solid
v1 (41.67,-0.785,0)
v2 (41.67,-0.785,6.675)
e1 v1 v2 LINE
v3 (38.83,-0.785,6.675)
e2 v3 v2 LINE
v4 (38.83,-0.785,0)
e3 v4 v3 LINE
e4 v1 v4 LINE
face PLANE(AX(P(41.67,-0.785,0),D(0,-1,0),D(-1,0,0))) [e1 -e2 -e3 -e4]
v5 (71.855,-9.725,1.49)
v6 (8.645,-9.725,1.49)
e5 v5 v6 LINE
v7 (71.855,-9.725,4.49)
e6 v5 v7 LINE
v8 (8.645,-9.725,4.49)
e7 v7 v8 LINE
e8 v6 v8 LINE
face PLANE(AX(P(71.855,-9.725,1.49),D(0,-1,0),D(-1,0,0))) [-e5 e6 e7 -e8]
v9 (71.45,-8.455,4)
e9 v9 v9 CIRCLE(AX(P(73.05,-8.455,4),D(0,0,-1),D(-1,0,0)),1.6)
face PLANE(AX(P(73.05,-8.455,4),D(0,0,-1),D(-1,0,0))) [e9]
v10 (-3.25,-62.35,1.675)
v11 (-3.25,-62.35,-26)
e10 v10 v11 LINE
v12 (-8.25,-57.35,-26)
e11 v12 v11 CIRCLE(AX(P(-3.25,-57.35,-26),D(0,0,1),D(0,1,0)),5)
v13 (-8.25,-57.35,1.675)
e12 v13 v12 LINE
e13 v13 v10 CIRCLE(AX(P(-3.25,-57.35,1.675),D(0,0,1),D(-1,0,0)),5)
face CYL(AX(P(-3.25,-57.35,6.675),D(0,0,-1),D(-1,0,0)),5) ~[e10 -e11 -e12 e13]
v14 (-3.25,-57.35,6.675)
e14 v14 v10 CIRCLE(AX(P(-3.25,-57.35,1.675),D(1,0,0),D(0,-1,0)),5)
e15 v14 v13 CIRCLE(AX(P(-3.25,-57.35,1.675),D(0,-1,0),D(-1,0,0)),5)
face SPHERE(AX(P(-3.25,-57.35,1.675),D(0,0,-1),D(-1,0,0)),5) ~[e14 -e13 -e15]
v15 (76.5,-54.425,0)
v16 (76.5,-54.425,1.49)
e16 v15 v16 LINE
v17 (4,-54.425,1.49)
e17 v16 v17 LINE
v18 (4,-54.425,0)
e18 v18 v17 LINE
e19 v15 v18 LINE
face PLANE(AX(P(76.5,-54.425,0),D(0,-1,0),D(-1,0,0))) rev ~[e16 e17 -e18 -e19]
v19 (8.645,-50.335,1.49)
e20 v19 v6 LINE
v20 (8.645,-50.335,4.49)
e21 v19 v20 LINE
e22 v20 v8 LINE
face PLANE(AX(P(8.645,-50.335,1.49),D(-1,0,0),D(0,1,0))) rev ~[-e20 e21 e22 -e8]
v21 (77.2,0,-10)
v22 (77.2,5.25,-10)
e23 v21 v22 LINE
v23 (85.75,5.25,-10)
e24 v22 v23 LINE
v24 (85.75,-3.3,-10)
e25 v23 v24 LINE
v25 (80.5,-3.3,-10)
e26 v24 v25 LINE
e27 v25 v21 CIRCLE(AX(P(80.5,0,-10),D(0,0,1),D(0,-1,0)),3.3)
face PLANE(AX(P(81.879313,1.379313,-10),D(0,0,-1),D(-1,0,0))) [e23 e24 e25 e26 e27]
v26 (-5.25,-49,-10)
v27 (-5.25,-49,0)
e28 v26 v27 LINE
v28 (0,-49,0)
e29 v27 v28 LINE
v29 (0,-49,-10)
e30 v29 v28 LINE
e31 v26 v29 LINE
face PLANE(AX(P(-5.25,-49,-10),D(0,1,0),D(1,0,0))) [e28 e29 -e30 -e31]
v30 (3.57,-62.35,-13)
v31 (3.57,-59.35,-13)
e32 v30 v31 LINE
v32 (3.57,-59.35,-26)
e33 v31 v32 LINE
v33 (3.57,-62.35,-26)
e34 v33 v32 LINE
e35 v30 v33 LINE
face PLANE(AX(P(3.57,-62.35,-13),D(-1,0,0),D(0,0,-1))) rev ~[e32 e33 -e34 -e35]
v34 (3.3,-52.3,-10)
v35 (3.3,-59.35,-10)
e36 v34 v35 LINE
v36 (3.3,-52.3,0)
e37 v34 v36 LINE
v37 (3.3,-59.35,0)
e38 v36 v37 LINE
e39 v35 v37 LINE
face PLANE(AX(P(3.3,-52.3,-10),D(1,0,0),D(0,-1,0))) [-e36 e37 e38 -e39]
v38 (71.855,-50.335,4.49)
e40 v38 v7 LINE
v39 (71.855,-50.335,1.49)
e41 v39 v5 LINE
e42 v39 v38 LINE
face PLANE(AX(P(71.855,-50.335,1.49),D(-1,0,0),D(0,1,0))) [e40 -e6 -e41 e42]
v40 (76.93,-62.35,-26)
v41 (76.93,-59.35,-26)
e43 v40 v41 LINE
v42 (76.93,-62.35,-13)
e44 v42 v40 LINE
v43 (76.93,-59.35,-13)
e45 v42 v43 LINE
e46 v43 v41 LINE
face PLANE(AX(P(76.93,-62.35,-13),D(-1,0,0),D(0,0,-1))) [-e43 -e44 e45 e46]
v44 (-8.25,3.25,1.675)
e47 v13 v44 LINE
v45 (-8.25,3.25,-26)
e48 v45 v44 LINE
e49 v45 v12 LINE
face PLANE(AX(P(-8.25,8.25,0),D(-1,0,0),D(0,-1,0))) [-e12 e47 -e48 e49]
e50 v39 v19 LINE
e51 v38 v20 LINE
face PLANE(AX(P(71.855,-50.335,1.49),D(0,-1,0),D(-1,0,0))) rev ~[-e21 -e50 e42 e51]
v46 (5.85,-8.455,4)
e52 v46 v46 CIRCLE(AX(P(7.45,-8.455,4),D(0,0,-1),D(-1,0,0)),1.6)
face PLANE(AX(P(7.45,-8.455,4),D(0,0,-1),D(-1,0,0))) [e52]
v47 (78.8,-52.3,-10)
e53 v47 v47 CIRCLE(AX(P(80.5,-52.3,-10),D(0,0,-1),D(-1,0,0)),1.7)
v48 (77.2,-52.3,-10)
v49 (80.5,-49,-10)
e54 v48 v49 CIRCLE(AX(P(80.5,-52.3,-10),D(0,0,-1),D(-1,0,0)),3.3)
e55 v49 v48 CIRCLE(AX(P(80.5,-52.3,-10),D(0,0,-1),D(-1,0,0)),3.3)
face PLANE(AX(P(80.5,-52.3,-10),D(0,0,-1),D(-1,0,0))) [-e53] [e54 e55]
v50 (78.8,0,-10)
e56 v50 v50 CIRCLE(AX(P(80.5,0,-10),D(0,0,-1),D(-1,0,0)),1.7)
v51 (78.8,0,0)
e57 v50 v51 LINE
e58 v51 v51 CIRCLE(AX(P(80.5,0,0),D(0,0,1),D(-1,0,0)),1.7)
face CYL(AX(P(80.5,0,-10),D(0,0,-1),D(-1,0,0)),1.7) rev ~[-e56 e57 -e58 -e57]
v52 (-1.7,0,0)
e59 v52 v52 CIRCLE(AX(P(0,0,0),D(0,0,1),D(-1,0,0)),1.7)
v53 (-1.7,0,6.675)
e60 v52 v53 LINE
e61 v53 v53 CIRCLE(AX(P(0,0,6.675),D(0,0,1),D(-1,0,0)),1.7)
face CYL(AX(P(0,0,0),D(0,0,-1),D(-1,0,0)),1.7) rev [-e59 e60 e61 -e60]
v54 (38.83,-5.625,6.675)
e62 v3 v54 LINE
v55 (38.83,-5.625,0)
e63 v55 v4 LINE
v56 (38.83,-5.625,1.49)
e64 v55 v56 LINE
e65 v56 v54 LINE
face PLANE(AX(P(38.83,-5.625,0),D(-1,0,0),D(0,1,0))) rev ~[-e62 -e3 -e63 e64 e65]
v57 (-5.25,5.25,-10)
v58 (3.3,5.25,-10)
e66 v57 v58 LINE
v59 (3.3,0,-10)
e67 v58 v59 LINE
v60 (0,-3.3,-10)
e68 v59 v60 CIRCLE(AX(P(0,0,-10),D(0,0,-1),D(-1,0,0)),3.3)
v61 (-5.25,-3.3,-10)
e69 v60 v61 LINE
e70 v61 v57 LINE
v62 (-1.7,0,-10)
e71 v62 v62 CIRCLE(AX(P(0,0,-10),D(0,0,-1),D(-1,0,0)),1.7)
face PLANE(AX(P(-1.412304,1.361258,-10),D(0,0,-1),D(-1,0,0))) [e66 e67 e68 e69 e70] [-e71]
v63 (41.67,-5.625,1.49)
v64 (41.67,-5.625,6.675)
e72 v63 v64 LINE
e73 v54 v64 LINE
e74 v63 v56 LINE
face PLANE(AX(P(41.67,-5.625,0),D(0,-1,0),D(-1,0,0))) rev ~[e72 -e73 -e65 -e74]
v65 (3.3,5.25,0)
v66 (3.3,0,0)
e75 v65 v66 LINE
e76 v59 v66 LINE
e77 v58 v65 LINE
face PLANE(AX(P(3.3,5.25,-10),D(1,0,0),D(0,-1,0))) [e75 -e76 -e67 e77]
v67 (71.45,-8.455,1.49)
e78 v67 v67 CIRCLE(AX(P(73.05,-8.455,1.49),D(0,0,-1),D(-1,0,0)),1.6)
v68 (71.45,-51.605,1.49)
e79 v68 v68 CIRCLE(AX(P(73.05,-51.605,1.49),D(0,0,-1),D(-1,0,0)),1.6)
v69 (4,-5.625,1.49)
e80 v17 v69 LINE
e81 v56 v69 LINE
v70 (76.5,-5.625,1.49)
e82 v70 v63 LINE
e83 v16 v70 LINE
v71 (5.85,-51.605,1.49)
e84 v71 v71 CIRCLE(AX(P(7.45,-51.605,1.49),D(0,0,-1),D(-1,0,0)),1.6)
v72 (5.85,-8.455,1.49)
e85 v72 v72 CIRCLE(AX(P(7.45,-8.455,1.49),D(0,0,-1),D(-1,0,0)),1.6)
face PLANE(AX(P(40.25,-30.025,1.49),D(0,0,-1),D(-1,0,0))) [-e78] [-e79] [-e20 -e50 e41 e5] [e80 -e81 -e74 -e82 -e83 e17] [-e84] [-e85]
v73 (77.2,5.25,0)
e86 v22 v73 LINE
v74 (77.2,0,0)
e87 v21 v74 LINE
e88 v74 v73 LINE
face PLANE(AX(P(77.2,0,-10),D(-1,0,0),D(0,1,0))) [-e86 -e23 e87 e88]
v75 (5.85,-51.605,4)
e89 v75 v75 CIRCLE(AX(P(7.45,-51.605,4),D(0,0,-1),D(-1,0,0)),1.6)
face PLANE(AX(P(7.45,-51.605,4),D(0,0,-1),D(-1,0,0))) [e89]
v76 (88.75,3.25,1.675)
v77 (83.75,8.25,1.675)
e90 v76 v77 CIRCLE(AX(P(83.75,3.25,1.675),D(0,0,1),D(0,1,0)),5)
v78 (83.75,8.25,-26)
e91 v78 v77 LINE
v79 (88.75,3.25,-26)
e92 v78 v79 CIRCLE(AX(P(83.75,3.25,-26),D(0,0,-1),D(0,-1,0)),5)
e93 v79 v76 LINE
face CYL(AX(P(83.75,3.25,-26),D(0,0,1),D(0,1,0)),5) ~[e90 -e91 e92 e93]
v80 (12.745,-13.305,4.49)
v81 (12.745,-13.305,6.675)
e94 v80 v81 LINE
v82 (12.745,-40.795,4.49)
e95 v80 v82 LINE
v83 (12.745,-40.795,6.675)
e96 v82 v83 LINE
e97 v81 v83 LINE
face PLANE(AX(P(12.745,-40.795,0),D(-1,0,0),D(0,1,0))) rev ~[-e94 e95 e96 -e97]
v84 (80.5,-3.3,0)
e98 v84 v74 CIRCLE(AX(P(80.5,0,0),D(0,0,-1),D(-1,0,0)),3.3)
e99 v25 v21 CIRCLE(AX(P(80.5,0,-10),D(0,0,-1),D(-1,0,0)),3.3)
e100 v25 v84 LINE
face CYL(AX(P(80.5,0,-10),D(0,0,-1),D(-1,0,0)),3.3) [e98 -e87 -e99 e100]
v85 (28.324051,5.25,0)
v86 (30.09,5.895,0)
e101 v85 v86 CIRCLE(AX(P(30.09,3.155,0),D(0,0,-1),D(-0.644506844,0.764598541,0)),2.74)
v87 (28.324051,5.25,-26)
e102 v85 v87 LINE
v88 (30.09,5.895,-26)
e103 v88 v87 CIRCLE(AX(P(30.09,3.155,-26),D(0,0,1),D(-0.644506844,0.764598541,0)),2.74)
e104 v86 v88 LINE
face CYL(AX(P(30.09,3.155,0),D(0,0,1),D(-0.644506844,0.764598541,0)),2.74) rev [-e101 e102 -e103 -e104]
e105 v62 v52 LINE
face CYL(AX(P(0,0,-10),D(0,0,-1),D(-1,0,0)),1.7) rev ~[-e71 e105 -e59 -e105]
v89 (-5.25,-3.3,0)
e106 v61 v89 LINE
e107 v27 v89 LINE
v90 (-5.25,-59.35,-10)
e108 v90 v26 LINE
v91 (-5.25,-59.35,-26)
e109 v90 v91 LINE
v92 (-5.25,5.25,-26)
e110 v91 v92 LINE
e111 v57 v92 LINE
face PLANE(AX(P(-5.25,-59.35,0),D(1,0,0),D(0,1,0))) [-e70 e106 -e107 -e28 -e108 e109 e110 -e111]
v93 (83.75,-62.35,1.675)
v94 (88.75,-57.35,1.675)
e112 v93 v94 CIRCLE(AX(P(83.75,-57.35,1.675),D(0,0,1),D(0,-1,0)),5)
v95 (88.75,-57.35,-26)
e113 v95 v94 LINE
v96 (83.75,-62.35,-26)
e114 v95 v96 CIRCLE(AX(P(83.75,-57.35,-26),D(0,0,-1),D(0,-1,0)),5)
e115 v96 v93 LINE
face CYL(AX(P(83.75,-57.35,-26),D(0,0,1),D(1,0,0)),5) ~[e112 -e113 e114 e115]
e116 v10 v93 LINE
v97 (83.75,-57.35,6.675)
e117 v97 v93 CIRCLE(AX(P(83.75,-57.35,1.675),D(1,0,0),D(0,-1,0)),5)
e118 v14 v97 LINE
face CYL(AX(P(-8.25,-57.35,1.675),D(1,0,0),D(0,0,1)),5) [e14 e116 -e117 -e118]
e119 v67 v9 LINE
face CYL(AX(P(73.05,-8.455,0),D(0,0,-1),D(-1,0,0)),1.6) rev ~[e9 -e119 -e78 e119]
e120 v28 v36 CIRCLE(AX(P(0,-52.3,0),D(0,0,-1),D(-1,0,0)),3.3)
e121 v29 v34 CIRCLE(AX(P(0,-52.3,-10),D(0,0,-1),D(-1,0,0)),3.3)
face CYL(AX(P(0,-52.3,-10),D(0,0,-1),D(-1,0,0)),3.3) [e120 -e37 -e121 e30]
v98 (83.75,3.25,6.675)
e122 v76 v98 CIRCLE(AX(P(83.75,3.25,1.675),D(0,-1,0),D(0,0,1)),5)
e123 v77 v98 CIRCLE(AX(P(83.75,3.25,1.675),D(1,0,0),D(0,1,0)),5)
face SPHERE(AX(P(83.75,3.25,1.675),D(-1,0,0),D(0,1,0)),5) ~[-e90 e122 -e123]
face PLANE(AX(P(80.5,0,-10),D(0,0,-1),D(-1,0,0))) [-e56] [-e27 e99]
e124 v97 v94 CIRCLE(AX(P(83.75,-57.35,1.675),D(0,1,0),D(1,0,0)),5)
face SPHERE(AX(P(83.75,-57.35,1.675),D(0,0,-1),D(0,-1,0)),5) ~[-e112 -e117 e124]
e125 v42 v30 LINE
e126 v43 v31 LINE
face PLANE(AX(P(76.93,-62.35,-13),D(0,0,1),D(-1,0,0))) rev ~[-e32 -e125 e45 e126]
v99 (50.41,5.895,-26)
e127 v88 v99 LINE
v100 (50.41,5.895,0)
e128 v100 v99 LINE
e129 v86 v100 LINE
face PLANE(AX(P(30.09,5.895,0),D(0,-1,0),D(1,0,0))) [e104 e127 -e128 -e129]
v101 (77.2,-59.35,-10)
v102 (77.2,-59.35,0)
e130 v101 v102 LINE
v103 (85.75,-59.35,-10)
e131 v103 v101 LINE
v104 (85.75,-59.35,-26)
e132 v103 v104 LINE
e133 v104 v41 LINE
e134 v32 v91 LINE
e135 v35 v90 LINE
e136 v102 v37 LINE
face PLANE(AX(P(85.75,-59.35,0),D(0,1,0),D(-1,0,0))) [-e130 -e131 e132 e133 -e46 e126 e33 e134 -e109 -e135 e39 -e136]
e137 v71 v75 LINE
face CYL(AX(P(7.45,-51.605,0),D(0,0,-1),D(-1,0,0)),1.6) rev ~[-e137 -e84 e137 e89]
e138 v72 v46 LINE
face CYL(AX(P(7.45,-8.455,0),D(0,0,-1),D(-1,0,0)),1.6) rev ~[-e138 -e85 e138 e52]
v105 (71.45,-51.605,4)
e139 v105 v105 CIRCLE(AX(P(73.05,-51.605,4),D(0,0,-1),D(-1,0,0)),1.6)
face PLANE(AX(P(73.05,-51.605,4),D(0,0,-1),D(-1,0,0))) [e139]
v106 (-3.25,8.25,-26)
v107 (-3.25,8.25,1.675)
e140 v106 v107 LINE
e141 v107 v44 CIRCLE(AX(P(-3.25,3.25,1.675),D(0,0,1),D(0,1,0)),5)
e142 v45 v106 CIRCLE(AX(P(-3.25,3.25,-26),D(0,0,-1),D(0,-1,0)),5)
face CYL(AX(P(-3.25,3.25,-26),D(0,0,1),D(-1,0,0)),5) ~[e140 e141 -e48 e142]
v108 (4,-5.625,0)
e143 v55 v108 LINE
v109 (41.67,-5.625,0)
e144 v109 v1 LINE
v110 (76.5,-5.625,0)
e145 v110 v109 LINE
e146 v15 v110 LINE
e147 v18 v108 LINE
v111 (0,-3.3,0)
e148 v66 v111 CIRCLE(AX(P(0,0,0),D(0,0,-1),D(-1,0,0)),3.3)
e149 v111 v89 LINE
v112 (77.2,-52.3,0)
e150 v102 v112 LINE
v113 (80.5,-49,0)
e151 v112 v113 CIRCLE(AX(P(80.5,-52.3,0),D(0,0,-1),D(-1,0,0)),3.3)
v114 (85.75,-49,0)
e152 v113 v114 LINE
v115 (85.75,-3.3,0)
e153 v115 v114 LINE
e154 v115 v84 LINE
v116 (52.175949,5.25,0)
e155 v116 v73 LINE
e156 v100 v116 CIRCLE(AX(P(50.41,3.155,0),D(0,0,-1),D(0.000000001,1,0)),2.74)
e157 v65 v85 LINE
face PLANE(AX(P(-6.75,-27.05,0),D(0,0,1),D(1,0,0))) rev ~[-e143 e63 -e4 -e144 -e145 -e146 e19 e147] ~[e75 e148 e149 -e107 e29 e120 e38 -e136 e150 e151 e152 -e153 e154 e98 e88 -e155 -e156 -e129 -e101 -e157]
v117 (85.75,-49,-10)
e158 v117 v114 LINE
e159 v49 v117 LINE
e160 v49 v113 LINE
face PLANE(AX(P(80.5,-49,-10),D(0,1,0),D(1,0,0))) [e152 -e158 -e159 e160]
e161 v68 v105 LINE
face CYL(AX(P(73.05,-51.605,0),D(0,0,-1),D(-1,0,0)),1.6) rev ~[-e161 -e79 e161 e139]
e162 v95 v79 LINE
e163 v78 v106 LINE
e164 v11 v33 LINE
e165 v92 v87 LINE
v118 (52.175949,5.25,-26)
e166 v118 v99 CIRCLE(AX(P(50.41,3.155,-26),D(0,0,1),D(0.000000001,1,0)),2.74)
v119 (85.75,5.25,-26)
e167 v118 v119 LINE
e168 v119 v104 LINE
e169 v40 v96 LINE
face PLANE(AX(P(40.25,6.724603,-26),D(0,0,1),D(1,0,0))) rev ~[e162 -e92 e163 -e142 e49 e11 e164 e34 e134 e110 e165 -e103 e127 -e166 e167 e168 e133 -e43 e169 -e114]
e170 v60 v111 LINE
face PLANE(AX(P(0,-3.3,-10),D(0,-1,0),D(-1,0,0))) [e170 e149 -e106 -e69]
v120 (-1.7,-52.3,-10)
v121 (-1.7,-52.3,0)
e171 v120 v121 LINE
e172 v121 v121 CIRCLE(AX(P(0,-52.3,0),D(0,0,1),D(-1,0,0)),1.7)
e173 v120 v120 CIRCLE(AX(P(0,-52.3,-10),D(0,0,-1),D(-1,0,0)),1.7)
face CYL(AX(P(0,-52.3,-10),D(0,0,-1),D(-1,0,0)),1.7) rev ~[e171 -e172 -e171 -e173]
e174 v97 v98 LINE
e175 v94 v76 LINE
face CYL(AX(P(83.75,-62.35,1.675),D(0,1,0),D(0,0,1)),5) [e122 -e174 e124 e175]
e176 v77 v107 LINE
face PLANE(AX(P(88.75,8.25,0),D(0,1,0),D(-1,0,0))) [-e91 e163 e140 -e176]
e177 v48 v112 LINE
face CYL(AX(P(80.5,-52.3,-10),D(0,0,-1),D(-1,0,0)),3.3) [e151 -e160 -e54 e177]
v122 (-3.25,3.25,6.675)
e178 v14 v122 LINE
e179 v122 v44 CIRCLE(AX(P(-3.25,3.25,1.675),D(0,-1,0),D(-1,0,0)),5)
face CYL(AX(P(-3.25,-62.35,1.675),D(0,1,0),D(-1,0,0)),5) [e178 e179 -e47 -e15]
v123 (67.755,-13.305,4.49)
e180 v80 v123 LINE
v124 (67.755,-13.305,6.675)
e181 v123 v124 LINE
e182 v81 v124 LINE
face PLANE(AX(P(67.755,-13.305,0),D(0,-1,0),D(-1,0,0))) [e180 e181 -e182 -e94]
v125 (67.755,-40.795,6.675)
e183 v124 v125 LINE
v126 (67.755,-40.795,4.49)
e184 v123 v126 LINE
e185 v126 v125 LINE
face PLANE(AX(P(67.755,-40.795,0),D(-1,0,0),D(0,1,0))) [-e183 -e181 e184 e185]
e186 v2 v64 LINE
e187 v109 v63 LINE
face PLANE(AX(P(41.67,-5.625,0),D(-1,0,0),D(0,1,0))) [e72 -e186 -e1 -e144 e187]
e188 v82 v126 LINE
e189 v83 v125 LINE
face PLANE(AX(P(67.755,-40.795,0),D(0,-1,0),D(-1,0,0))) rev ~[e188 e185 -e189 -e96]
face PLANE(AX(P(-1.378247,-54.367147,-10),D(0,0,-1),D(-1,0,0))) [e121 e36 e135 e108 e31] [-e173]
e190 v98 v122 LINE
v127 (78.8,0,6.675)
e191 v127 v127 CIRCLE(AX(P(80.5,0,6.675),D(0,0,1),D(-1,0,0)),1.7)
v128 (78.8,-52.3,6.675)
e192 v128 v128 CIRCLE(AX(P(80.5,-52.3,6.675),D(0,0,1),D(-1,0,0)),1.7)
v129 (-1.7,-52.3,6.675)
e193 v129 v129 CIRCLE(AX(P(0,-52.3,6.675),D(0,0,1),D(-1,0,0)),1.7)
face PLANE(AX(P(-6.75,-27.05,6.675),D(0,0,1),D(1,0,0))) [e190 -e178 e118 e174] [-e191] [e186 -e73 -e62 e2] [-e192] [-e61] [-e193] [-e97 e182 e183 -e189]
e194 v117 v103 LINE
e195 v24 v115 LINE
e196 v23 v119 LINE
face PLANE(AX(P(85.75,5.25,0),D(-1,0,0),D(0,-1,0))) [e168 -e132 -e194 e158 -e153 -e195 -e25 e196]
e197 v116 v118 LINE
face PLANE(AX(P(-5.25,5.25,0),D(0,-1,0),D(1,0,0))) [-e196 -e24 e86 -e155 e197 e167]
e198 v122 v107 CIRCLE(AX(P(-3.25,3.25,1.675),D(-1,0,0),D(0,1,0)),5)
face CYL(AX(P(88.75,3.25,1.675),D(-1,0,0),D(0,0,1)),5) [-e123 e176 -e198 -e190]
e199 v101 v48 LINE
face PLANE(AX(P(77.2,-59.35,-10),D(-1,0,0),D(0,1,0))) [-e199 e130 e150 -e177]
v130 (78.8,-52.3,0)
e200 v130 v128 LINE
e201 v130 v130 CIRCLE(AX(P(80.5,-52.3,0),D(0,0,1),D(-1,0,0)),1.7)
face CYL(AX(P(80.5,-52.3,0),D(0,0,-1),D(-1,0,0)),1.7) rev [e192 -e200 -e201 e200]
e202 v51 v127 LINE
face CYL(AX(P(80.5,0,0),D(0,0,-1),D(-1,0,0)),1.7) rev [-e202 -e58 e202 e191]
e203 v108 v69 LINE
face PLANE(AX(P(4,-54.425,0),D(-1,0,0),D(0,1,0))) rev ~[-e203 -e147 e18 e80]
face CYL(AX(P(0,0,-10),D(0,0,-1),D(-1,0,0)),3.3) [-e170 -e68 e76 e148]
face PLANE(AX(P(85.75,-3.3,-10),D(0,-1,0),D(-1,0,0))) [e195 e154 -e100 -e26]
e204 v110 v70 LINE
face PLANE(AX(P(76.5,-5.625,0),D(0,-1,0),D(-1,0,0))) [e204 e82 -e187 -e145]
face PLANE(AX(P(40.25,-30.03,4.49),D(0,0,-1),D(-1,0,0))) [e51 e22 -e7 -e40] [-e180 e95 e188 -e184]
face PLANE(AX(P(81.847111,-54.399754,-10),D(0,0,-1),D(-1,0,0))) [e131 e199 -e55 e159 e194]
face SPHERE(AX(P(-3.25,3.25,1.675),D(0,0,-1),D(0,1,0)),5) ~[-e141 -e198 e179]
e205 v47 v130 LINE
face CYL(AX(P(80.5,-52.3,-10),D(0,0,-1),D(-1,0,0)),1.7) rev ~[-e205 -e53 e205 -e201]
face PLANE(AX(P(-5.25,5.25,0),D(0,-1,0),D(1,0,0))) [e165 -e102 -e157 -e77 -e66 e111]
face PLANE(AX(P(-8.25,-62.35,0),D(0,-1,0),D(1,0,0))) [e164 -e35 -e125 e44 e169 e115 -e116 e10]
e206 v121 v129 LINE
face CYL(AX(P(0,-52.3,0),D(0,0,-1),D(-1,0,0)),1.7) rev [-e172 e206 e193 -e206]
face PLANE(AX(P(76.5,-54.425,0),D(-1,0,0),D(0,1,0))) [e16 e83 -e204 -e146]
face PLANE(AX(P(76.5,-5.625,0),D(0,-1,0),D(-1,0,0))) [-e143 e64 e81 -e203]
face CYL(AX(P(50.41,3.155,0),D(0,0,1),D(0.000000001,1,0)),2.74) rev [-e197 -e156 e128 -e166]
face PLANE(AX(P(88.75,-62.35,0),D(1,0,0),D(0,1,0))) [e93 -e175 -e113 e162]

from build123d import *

# Parameters (mm, degrees)
SKETCH1_W           = 45.1
SKETCH1_H           = 63.8
SKETCH1_R           = 1.7
SKETCH1_W_2         = 0.4
SKETCH1_W_3         = 3
BOSS_EXTRUDE1_DEPTH = 6.675
SKETCH1_4_W         = 3
SKETCH1_4_H         = 63.8
BOSS_EXTRUDE2_DEPTH = 26
FILLET1_R           = 5
SKETCH3_W           = 73.36
SKETCH3_H           = 13
CUT_EXTRUDE4_DEPTH  = 3
SKETCH13_W          = 55.01
SKETCH13_H          = 27.49
CUT_EXTRUDE17_DEPTH = 112.535128995
SKETCH8_W           = 72.5
SKETCH8_H           = 48.8
CUT_EXTRUDE11_DEPTH = 1.49
SKETCH5_R           = 1.6
CUT_EXTRUDE8_DEPTH  = 4
CUT_EXTRUDE9_START  = -1.49
SKETCH7_W           = 63.21
SKETCH7_H           = 40.61
SKETCH7_W_2         = 62.41
SKETCH7_H_2         = 39.81
CUT_EXTRUDE9_DEPTH  = 3
SKETCH9_W           = 2.84
SKETCH9_H           = 4.84
SKETCH9_W_2         = 2.44
SKETCH9_H_2         = 4.44
CUT_EXTRUDE15_DEPTH = 112.535128995
SKETCH14_R          = 2.54
CUT_EXTRUDE19_DEPTH = 112.535128995
BOSS_EXTRUDE4_START = 10
SKETCH15_R          = 3.3
SKETCH15_R_2        = 1.7
BOSS_EXTRUDE4_DEPTH = 10


with BuildPart() as part:
    # Sketch1 → Boss-Extrude1 (new body)
    # profile 1 of 10: a face of its own
    with BuildSketch(Plane.XY):
        Polygon((40.25, 4.85), (85.35, 4.85), (85.75, 4.85), (85.75, 5.25), (-5.25, 5.25), (-5.25, 4.85), (-4.85, 4.85), align=None)
    # profile 2 of 10: a face of its own
    with BuildSketch(Plane.XY):
        with Locations((62.8, -27.05)):
            Rectangle(SKETCH1_W, SKETCH1_H)
        with Locations(Location((80.5, -52.3, 0), (0, 0, 180))):
            Circle(SKETCH1_R, mode=Mode.SUBTRACT)
        with Locations(Location((80.5, 0, 0), (0, 0, 180))):
            Circle(SKETCH1_R, mode=Mode.SUBTRACT)
    # profile 3 of 10: a face of its own
    with BuildSketch(Plane.XY):
        with Locations((85.55, -27.05)):
            Rectangle(SKETCH1_W_2, SKETCH1_H)
    # profile 4 of 10: a face of its own
    with BuildSketch(Plane.XY):
        Polygon((85.75, 5.25), (85.75, 4.85), (88.75, 4.85), (88.75, 8.25), (-8.25, 8.25), (-8.25, 4.85), (-5.25, 4.85), (-5.25, 5.25), align=None)
    # profile 5 of 10: a face of its own
    with BuildSketch(Plane.XY):
        with Locations((87.25, -27.05)):
            Rectangle(SKETCH1_W_3, SKETCH1_H)
    # profile 6 of 10: a face of its own
    with BuildSketch(Plane.XY):
        with Locations((17.7, -27.05)):
            Rectangle(SKETCH1_W, SKETCH1_H)
        with Locations(Location((0, -52.3, 0), (0, 0, 180))):
            Circle(SKETCH1_R, mode=Mode.SUBTRACT)
        with Locations(Location((0, 0, 0), (0, 0, 180))):
            Circle(SKETCH1_R, mode=Mode.SUBTRACT)
    # profile 7 of 10: a face of its own
    with BuildSketch(Plane.XY):
        Polygon((85.75, -58.95), (85.35, -58.95), (40.25, -58.95), (-4.85, -58.95), (-5.25, -58.95), (-5.25, -59.35), (85.75, -59.35), align=None)
    # profile 8 of 10: a face of its own
    with BuildSketch(Plane.XY):
        Polygon((88.75, -58.95), (85.75, -58.95), (85.75, -59.35), (-5.25, -59.35), (-5.25, -58.95), (-8.25, -58.95), (-8.25, -62.35), (88.75, -62.35), align=None)
    # profile 9 of 10: a face of its own
    with BuildSketch(Plane.XY):
        with Locations((-5.05, -27.05)):
            Rectangle(SKETCH1_W_2, SKETCH1_H)
    # profile 10 of 10: a face of its own
    with BuildSketch(Plane.XY):
        with Locations((-6.75, -27.05)):
            Rectangle(SKETCH1_W_3, SKETCH1_H)
    extrude(amount=BOSS_EXTRUDE1_DEPTH)

    # Sketch1<4> → Boss-Extrude2 (add)
    with BuildSketch(Plane.XY):
        Polygon((85.75, 5.25), (85.75, 4.85), (88.75, 4.85), (88.75, 8.25), (-8.25, 8.25), (-8.25, 4.85), (-5.25, 4.85), (-5.25, 5.25), align=None)
        with Locations((87.25, -27.05)):
            Rectangle(SKETCH1_4_W, SKETCH1_4_H)
        Polygon((88.75, -58.95), (85.75, -58.95), (85.75, -59.35), (-5.25, -59.35), (-5.25, -58.95), (-8.25, -58.95), (-8.25, -62.35), (88.75, -62.35), align=None)
        with Locations((-6.75, -27.05)):
            Rectangle(SKETCH1_4_W, SKETCH1_4_H)
    extrude(amount=-BOSS_EXTRUDE2_DEPTH)

    # Fillet1
    fillet1_edges = [part.edges().sort_by_distance(p)[0] for p in [
        (88.75, -62.35, -9.6625),
        (-8.25, -62.35, -9.6625),
        (-8.25, 8.25, -9.6625),
        (40.25, 8.25, 6.675),
        (88.75, 8.25, -9.6625),
        (-8.25, -27.05, 6.675),
        (40.25, -62.35, 6.675),
        (88.75, -27.05, 6.675),
    ]]
    fillet(fillet1_edges, radius=FILLET1_R)

    # Sketch3 → Cut-Extrude4 (cut)
    with BuildSketch(Plane(origin=(0, -62.35, 0), x_dir=(-1, 0, 0), z_dir=(0, -1, 0))):
        with Locations((-40.25, 19.5)):
            Rectangle(SKETCH3_W, SKETCH3_H)
    extrude(amount=-CUT_EXTRUDE4_DEPTH, mode=Mode.SUBTRACT)

    # Sketch13 → Cut-Extrude17 (cut, through all)
    with BuildSketch(Plane(origin=(0, 0, 0), x_dir=(-1, 0, 0), z_dir=(0, 0, -1))):
        with Locations((-40.25, -27.05)):
            Rectangle(SKETCH13_W, SKETCH13_H)
    extrude(amount=-CUT_EXTRUDE17_DEPTH, mode=Mode.SUBTRACT)

    # Sketch8 → Cut-Extrude11 (cut)
    with BuildSketch(Plane(origin=(0, 0, 0), x_dir=(-1, 0, 0), z_dir=(0, 0, -1))):
        with Locations((-40.25, -30.025)):
            Rectangle(SKETCH8_W, SKETCH8_H)
    extrude(amount=-CUT_EXTRUDE11_DEPTH, mode=Mode.SUBTRACT)

    # Sketch5 → Cut-Extrude8 (cut)
    with BuildSketch(Plane(origin=(0, 0, 0), x_dir=(-1, 0, 0), z_dir=(0, 0, -1))):
        with Locations((-73.05, -8.455)):
            Circle(SKETCH5_R)
        with Locations((-73.05, -51.605)):
            Circle(SKETCH5_R)
        with Locations((-7.45, -51.605)):
            Circle(SKETCH5_R)
        with Locations((-7.45, -8.455)):
            Circle(SKETCH5_R)
    extrude(amount=-CUT_EXTRUDE8_DEPTH, mode=Mode.SUBTRACT)

    # Sketch7 → Cut-Extrude9 (cut)
    # profile 1 of 2: a face of its own
    with BuildSketch(Plane(origin=(0, 0, 0), x_dir=(-1, 0, 0), z_dir=(0, 0, -1)).offset(CUT_EXTRUDE9_START)):
        with Locations((-40.25, -30.03)):
            Rectangle(SKETCH7_W, SKETCH7_H)
        with Locations((-40.25, -30.03)):
            Rectangle(SKETCH7_W_2, SKETCH7_H_2, mode=Mode.SUBTRACT)
    # profile 2 of 2: a face of its own
    with BuildSketch(Plane(origin=(0, 0, 0), x_dir=(-1, 0, 0), z_dir=(0, 0, -1)).offset(CUT_EXTRUDE9_START)):
        with Locations((-40.25, -30.03)):
            Rectangle(SKETCH7_W_2, SKETCH7_H_2)
    extrude(amount=-CUT_EXTRUDE9_DEPTH, mode=Mode.SUBTRACT)

    # Sketch9 → Cut-Extrude15 (cut, through all)
    # profile 1 of 2: a face of its own
    with BuildSketch(Plane(origin=(0, 0, 0), x_dir=(-1, 0, 0), z_dir=(0, 0, -1))):
        with Locations((-40.25, -3.205)):
            Rectangle(SKETCH9_W, SKETCH9_H)
        with Locations((-40.25, -3.205)):
            Rectangle(SKETCH9_W_2, SKETCH9_H_2, mode=Mode.SUBTRACT)
    # profile 2 of 2: a face of its own
    with BuildSketch(Plane(origin=(0, 0, 0), x_dir=(-1, 0, 0), z_dir=(0, 0, -1))):
        with Locations((-40.25, -3.205)):
            Rectangle(SKETCH9_W_2, SKETCH9_H_2)
    extrude(amount=-CUT_EXTRUDE15_DEPTH, mode=Mode.SUBTRACT)

    # Sketch14 → Cut-Extrude19 (cut, through all)
    with BuildSketch(Plane(origin=(0, 0, 0), x_dir=(-1, 0, 0), z_dir=(0, 0, -1))):
        with BuildLine():
            ThreePointArc((-30.09, -12.085), (-31.886051224, -7.748948776), (-27.55, -9.545))
            Line((-27.55, -9.545), (-27.55, -5.625))
            Line((-27.55, -5.625), (-38.83, -5.625))
            Line((-38.83, -5.625), (-38.83, -0.785))
            Line((-38.83, -0.785), (-41.67, -0.785))
            Line((-41.67, -0.785), (-41.67, -5.625))
            Line((-41.67, -5.625), (-52.95, -5.625))
            Line((-52.95, -5.625), (-52.95, -9.545))
            ThreePointArc((-52.95, -9.545), (-50.41, -7.005), (-47.87, -9.545))
            ThreePointArc((-47.87, -9.545), (-48.613948776, -11.341051224), (-50.41, -12.085))
            Line((-50.41, -12.085), (-30.09, -12.085))
        make_face()
        with BuildLine():
            Line((-38.83, -5.625), (-27.55, -5.625))
            Line((-27.55, -5.625), (-27.55, 3.155))
            ThreePointArc((-27.55, 3.155), (-31.274005151, 0.907839169), (-31.526166773, 5.25))
            Line((-31.526166773, 5.25), (-48.973833227, 5.25))
            ThreePointArc((-48.973833227, 5.25), (-48.162839169, 4.339005151), (-47.87, 3.155))
            ThreePointArc((-47.87, 3.155), (-50.41, 0.615), (-52.95, 3.155))
            Line((-52.95, 3.155), (-52.95, -5.625))
            Line((-52.95, -5.625), (-41.67, -5.625))
            Line((-41.67, -5.625), (-41.67, -0.785))
            Line((-41.67, -0.785), (-38.83, -0.785))
            Line((-38.83, -0.785), (-38.83, -5.625))
        make_face()
        with Locations((-50.41, -9.545)):
            Circle(SKETCH14_R)
        with BuildLine():
            Line((-51.846166773, 5.25), (-48.973833227, 5.25))
            ThreePointArc((-48.973833227, 5.25), (-49.658235409, 5.581200734), (-50.41, 5.695))
            ThreePointArc((-50.41, 5.695), (-51.161764591, 5.581200734), (-51.846166773, 5.25))
        make_face()
        with BuildLine():
            ThreePointArc((-47.87, 3.155), (-48.162839169, 4.339005151), (-48.973833227, 5.25))
            Line((-48.973833227, 5.25), (-51.846166773, 5.25))
            ThreePointArc((-51.846166773, 5.25), (-52.657160831, 4.339005151), (-52.95, 3.155))
            ThreePointArc((-52.95, 3.155), (-50.41, 0.615), (-47.87, 3.155))
        make_face()
        with BuildLine():
            ThreePointArc((-31.526166773, 5.25), (-31.274005151, 0.907839169), (-27.55, 3.155))
            ThreePointArc((-27.55, 3.155), (-27.842839169, 4.339005151), (-28.653833227, 5.25))
            Line((-28.653833227, 5.25), (-31.526166773, 5.25))
        make_face()
        with BuildLine():
            Line((-31.526166773, 5.25), (-28.653833227, 5.25))
            ThreePointArc((-28.653833227, 5.25), (-29.338235409, 5.581200734), (-30.09, 5.695))
            ThreePointArc((-30.09, 5.695), (-30.841764591, 5.581200734), (-31.526166773, 5.25))
        make_face()
        with Locations((-30.09, -9.545)):
            Circle(SKETCH14_R)
        with BuildLine():
            Line((-48.973833227, 5.25), (-31.526166773, 5.25))
            ThreePointArc((-31.526166773, 5.25), (-30.841764591, 5.581200734), (-30.09, 5.695))
            Line((-30.09, 5.695), (-50.41, 5.695))
            ThreePointArc((-50.41, 5.695), (-49.658235409, 5.581200734), (-48.973833227, 5.25))
        make_face()
        with BuildLine():
            Line((-27.55, -5.625), (-27.55, -9.545))
            ThreePointArc((-27.55, -9.545), (-28.293948776, -11.341051224), (-30.09, -12.085))
            Line((-30.09, -12.085), (-50.41, -12.085))
            ThreePointArc((-50.41, -12.085), (-52.206051224, -11.341051224), (-52.95, -9.545))
            Line((-52.95, -9.545), (-52.95, -5.625))
            Line((-52.95, -5.625), (-53.15, -5.625))
            Line((-53.15, -5.625), (-53.15, -9.545))
            ThreePointArc((-53.15, -9.545), (-52.34747258, -11.48247258), (-50.41, -12.285))
            Line((-50.41, -12.285), (-30.09, -12.285))
            ThreePointArc((-30.09, -12.285), (-28.15252742, -11.48247258), (-27.35, -9.545))
            Line((-27.35, -9.545), (-27.35, -5.625))
            Line((-27.35, -5.625), (-27.55, -5.625))
        make_face()
        with BuildLine():
            Line((-27.55, 3.155), (-27.55, -5.625))
            Line((-27.55, -5.625), (-27.35, -5.625))
            Line((-27.35, -5.625), (-27.35, 3.155))
            ThreePointArc((-27.35, 3.155), (-27.605417582, 4.310184058), (-28.324051246, 5.25))
            Line((-28.324051246, 5.25), (-28.653833227, 5.25))
            ThreePointArc((-28.653833227, 5.25), (-27.842839169, 4.339005151), (-27.55, 3.155))
        make_face()
        with BuildLine():
            ThreePointArc((-30.09, 5.695), (-29.338235409, 5.581200734), (-28.653833227, 5.25))
            Line((-28.653833227, 5.25), (-28.324051246, 5.25))
            ThreePointArc((-28.324051246, 5.25), (-29.149973405, 5.728703557), (-30.09, 5.895))
            Line((-30.09, 5.895), (-50.41, 5.895))
            ThreePointArc((-50.41, 5.895), (-51.350026595, 5.728703557), (-52.175948754, 5.25))
            Line((-52.175948754, 5.25), (-51.846166773, 5.25))
            ThreePointArc((-51.846166773, 5.25), (-51.161764591, 5.581200734), (-50.41, 5.695))
            Line((-50.41, 5.695), (-30.09, 5.695))
        make_face()
        with BuildLine():
            Line((-53.15, -5.625), (-52.95, -5.625))
            Line((-52.95, -5.625), (-52.95, 3.155))
            ThreePointArc((-52.95, 3.155), (-52.657160831, 4.339005151), (-51.846166773, 5.25))
            Line((-51.846166773, 5.25), (-52.175948754, 5.25))
            ThreePointArc((-52.175948754, 5.25), (-52.894582418, 4.310184058), (-53.15, 3.155))
            Line((-53.15, 3.155), (-53.15, -5.625))
        make_face()
    extrude(amount=CUT_EXTRUDE19_DEPTH, mode=Mode.SUBTRACT)

    # Sketch15 → Boss-Extrude4 (add)
    # profile 1 of 8: a face of its own
    with BuildSketch(Plane(origin=(0, 0, 0), x_dir=(-1, 0, 0), z_dir=(0, 0, -1)).offset(BOSS_EXTRUDE4_START)):
        with BuildLine():
            ThreePointArc((3.3, 0), (2.333452378, -2.333452378), (0, -3.3))
            Line((0, -3.3), (5.25, -3.3))
            Line((5.25, -3.3), (5.25, 5.25))
            Line((5.25, 5.25), (-3.3, 5.25))
            Line((-3.3, 5.25), (-3.3, 0))
            ThreePointArc((-3.3, 0), (0, 3.3), (3.3, 0))
        make_face()
    # profile 2 of 8: a face of its own
    with BuildSketch(Plane(origin=(0, 0, 0), x_dir=(-1, 0, 0), z_dir=(0, 0, -1)).offset(BOSS_EXTRUDE4_START)):
        Circle(SKETCH15_R)
        Circle(SKETCH15_R_2, mode=Mode.SUBTRACT)
    # profile 3 of 8: a face of its own
    with BuildSketch(Plane(origin=(0, 0, 0), x_dir=(-1, 0, 0), z_dir=(0, 0, -1)).offset(BOSS_EXTRUDE4_START)):
        with BuildLine():
            Line((-85.75, 5.25), (-85.75, -3.3))
            Line((-85.75, -3.3), (-80.5, -3.3))
            ThreePointArc((-80.5, -3.3), (-82.833452378, 2.333452378), (-77.2, 0))
            Line((-77.2, 0), (-77.2, 5.25))
            Line((-77.2, 5.25), (-85.75, 5.25))
        make_face()
    # profile 4 of 8: a face of its own
    with BuildSketch(Plane(origin=(0, 0, 0), x_dir=(-1, 0, 0), z_dir=(0, 0, -1)).offset(BOSS_EXTRUDE4_START)):
        with Locations((-80.5, 0)):
            Circle(SKETCH15_R)
        with Locations((-80.5, 0)):
            Circle(SKETCH15_R_2, mode=Mode.SUBTRACT)
    # profile 5 of 8: a face of its own
    with BuildSketch(Plane(origin=(0, 0, 0), x_dir=(-1, 0, 0), z_dir=(0, 0, -1)).offset(BOSS_EXTRUDE4_START)):
        with Locations((-80.5, -52.3)):
            Circle(SKETCH15_R)
        with Locations((-80.5, -52.3)):
            Circle(SKETCH15_R_2, mode=Mode.SUBTRACT)
    # profile 6 of 8: a face of its own
    with BuildSketch(Plane(origin=(0, 0, 0), x_dir=(-1, 0, 0), z_dir=(0, 0, -1)).offset(BOSS_EXTRUDE4_START)):
        with Locations((0, -52.3)):
            Circle(SKETCH15_R)
        with Locations((0, -52.3)):
            Circle(SKETCH15_R_2, mode=Mode.SUBTRACT)
    # profile 7 of 8: a face of its own
    with BuildSketch(Plane(origin=(0, 0, 0), x_dir=(-1, 0, 0), z_dir=(0, 0, -1)).offset(BOSS_EXTRUDE4_START)):
        with BuildLine():
            Line((5.25, -59.35), (5.25, -49))
            Line((5.25, -49), (0, -49))
            ThreePointArc((0, -49), (2.333452378, -49.966547622), (3.3, -52.3))
            ThreePointArc((3.3, -52.3), (0, -55.6), (-3.3, -52.3))
            Line((-3.3, -52.3), (-3.3, -59.35))
            Line((-3.3, -59.35), (5.25, -59.35))
        make_face()
    # profile 8 of 8: a face of its own
    with BuildSketch(Plane(origin=(0, 0, 0), x_dir=(-1, 0, 0), z_dir=(0, 0, -1)).offset(BOSS_EXTRUDE4_START)):
        with BuildLine():
            Line((-85.75, -59.35), (-77.2, -59.35))
            Line((-77.2, -59.35), (-77.2, -52.3))
            ThreePointArc((-77.2, -52.3), (-82.833452378, -54.633452378), (-80.5, -49))
            Line((-80.5, -49), (-85.75, -49))
            Line((-85.75, -49), (-85.75, -59.35))
        make_face()
    extrude(amount=-BOSS_EXTRUDE4_DEPTH)


solid = part.part
